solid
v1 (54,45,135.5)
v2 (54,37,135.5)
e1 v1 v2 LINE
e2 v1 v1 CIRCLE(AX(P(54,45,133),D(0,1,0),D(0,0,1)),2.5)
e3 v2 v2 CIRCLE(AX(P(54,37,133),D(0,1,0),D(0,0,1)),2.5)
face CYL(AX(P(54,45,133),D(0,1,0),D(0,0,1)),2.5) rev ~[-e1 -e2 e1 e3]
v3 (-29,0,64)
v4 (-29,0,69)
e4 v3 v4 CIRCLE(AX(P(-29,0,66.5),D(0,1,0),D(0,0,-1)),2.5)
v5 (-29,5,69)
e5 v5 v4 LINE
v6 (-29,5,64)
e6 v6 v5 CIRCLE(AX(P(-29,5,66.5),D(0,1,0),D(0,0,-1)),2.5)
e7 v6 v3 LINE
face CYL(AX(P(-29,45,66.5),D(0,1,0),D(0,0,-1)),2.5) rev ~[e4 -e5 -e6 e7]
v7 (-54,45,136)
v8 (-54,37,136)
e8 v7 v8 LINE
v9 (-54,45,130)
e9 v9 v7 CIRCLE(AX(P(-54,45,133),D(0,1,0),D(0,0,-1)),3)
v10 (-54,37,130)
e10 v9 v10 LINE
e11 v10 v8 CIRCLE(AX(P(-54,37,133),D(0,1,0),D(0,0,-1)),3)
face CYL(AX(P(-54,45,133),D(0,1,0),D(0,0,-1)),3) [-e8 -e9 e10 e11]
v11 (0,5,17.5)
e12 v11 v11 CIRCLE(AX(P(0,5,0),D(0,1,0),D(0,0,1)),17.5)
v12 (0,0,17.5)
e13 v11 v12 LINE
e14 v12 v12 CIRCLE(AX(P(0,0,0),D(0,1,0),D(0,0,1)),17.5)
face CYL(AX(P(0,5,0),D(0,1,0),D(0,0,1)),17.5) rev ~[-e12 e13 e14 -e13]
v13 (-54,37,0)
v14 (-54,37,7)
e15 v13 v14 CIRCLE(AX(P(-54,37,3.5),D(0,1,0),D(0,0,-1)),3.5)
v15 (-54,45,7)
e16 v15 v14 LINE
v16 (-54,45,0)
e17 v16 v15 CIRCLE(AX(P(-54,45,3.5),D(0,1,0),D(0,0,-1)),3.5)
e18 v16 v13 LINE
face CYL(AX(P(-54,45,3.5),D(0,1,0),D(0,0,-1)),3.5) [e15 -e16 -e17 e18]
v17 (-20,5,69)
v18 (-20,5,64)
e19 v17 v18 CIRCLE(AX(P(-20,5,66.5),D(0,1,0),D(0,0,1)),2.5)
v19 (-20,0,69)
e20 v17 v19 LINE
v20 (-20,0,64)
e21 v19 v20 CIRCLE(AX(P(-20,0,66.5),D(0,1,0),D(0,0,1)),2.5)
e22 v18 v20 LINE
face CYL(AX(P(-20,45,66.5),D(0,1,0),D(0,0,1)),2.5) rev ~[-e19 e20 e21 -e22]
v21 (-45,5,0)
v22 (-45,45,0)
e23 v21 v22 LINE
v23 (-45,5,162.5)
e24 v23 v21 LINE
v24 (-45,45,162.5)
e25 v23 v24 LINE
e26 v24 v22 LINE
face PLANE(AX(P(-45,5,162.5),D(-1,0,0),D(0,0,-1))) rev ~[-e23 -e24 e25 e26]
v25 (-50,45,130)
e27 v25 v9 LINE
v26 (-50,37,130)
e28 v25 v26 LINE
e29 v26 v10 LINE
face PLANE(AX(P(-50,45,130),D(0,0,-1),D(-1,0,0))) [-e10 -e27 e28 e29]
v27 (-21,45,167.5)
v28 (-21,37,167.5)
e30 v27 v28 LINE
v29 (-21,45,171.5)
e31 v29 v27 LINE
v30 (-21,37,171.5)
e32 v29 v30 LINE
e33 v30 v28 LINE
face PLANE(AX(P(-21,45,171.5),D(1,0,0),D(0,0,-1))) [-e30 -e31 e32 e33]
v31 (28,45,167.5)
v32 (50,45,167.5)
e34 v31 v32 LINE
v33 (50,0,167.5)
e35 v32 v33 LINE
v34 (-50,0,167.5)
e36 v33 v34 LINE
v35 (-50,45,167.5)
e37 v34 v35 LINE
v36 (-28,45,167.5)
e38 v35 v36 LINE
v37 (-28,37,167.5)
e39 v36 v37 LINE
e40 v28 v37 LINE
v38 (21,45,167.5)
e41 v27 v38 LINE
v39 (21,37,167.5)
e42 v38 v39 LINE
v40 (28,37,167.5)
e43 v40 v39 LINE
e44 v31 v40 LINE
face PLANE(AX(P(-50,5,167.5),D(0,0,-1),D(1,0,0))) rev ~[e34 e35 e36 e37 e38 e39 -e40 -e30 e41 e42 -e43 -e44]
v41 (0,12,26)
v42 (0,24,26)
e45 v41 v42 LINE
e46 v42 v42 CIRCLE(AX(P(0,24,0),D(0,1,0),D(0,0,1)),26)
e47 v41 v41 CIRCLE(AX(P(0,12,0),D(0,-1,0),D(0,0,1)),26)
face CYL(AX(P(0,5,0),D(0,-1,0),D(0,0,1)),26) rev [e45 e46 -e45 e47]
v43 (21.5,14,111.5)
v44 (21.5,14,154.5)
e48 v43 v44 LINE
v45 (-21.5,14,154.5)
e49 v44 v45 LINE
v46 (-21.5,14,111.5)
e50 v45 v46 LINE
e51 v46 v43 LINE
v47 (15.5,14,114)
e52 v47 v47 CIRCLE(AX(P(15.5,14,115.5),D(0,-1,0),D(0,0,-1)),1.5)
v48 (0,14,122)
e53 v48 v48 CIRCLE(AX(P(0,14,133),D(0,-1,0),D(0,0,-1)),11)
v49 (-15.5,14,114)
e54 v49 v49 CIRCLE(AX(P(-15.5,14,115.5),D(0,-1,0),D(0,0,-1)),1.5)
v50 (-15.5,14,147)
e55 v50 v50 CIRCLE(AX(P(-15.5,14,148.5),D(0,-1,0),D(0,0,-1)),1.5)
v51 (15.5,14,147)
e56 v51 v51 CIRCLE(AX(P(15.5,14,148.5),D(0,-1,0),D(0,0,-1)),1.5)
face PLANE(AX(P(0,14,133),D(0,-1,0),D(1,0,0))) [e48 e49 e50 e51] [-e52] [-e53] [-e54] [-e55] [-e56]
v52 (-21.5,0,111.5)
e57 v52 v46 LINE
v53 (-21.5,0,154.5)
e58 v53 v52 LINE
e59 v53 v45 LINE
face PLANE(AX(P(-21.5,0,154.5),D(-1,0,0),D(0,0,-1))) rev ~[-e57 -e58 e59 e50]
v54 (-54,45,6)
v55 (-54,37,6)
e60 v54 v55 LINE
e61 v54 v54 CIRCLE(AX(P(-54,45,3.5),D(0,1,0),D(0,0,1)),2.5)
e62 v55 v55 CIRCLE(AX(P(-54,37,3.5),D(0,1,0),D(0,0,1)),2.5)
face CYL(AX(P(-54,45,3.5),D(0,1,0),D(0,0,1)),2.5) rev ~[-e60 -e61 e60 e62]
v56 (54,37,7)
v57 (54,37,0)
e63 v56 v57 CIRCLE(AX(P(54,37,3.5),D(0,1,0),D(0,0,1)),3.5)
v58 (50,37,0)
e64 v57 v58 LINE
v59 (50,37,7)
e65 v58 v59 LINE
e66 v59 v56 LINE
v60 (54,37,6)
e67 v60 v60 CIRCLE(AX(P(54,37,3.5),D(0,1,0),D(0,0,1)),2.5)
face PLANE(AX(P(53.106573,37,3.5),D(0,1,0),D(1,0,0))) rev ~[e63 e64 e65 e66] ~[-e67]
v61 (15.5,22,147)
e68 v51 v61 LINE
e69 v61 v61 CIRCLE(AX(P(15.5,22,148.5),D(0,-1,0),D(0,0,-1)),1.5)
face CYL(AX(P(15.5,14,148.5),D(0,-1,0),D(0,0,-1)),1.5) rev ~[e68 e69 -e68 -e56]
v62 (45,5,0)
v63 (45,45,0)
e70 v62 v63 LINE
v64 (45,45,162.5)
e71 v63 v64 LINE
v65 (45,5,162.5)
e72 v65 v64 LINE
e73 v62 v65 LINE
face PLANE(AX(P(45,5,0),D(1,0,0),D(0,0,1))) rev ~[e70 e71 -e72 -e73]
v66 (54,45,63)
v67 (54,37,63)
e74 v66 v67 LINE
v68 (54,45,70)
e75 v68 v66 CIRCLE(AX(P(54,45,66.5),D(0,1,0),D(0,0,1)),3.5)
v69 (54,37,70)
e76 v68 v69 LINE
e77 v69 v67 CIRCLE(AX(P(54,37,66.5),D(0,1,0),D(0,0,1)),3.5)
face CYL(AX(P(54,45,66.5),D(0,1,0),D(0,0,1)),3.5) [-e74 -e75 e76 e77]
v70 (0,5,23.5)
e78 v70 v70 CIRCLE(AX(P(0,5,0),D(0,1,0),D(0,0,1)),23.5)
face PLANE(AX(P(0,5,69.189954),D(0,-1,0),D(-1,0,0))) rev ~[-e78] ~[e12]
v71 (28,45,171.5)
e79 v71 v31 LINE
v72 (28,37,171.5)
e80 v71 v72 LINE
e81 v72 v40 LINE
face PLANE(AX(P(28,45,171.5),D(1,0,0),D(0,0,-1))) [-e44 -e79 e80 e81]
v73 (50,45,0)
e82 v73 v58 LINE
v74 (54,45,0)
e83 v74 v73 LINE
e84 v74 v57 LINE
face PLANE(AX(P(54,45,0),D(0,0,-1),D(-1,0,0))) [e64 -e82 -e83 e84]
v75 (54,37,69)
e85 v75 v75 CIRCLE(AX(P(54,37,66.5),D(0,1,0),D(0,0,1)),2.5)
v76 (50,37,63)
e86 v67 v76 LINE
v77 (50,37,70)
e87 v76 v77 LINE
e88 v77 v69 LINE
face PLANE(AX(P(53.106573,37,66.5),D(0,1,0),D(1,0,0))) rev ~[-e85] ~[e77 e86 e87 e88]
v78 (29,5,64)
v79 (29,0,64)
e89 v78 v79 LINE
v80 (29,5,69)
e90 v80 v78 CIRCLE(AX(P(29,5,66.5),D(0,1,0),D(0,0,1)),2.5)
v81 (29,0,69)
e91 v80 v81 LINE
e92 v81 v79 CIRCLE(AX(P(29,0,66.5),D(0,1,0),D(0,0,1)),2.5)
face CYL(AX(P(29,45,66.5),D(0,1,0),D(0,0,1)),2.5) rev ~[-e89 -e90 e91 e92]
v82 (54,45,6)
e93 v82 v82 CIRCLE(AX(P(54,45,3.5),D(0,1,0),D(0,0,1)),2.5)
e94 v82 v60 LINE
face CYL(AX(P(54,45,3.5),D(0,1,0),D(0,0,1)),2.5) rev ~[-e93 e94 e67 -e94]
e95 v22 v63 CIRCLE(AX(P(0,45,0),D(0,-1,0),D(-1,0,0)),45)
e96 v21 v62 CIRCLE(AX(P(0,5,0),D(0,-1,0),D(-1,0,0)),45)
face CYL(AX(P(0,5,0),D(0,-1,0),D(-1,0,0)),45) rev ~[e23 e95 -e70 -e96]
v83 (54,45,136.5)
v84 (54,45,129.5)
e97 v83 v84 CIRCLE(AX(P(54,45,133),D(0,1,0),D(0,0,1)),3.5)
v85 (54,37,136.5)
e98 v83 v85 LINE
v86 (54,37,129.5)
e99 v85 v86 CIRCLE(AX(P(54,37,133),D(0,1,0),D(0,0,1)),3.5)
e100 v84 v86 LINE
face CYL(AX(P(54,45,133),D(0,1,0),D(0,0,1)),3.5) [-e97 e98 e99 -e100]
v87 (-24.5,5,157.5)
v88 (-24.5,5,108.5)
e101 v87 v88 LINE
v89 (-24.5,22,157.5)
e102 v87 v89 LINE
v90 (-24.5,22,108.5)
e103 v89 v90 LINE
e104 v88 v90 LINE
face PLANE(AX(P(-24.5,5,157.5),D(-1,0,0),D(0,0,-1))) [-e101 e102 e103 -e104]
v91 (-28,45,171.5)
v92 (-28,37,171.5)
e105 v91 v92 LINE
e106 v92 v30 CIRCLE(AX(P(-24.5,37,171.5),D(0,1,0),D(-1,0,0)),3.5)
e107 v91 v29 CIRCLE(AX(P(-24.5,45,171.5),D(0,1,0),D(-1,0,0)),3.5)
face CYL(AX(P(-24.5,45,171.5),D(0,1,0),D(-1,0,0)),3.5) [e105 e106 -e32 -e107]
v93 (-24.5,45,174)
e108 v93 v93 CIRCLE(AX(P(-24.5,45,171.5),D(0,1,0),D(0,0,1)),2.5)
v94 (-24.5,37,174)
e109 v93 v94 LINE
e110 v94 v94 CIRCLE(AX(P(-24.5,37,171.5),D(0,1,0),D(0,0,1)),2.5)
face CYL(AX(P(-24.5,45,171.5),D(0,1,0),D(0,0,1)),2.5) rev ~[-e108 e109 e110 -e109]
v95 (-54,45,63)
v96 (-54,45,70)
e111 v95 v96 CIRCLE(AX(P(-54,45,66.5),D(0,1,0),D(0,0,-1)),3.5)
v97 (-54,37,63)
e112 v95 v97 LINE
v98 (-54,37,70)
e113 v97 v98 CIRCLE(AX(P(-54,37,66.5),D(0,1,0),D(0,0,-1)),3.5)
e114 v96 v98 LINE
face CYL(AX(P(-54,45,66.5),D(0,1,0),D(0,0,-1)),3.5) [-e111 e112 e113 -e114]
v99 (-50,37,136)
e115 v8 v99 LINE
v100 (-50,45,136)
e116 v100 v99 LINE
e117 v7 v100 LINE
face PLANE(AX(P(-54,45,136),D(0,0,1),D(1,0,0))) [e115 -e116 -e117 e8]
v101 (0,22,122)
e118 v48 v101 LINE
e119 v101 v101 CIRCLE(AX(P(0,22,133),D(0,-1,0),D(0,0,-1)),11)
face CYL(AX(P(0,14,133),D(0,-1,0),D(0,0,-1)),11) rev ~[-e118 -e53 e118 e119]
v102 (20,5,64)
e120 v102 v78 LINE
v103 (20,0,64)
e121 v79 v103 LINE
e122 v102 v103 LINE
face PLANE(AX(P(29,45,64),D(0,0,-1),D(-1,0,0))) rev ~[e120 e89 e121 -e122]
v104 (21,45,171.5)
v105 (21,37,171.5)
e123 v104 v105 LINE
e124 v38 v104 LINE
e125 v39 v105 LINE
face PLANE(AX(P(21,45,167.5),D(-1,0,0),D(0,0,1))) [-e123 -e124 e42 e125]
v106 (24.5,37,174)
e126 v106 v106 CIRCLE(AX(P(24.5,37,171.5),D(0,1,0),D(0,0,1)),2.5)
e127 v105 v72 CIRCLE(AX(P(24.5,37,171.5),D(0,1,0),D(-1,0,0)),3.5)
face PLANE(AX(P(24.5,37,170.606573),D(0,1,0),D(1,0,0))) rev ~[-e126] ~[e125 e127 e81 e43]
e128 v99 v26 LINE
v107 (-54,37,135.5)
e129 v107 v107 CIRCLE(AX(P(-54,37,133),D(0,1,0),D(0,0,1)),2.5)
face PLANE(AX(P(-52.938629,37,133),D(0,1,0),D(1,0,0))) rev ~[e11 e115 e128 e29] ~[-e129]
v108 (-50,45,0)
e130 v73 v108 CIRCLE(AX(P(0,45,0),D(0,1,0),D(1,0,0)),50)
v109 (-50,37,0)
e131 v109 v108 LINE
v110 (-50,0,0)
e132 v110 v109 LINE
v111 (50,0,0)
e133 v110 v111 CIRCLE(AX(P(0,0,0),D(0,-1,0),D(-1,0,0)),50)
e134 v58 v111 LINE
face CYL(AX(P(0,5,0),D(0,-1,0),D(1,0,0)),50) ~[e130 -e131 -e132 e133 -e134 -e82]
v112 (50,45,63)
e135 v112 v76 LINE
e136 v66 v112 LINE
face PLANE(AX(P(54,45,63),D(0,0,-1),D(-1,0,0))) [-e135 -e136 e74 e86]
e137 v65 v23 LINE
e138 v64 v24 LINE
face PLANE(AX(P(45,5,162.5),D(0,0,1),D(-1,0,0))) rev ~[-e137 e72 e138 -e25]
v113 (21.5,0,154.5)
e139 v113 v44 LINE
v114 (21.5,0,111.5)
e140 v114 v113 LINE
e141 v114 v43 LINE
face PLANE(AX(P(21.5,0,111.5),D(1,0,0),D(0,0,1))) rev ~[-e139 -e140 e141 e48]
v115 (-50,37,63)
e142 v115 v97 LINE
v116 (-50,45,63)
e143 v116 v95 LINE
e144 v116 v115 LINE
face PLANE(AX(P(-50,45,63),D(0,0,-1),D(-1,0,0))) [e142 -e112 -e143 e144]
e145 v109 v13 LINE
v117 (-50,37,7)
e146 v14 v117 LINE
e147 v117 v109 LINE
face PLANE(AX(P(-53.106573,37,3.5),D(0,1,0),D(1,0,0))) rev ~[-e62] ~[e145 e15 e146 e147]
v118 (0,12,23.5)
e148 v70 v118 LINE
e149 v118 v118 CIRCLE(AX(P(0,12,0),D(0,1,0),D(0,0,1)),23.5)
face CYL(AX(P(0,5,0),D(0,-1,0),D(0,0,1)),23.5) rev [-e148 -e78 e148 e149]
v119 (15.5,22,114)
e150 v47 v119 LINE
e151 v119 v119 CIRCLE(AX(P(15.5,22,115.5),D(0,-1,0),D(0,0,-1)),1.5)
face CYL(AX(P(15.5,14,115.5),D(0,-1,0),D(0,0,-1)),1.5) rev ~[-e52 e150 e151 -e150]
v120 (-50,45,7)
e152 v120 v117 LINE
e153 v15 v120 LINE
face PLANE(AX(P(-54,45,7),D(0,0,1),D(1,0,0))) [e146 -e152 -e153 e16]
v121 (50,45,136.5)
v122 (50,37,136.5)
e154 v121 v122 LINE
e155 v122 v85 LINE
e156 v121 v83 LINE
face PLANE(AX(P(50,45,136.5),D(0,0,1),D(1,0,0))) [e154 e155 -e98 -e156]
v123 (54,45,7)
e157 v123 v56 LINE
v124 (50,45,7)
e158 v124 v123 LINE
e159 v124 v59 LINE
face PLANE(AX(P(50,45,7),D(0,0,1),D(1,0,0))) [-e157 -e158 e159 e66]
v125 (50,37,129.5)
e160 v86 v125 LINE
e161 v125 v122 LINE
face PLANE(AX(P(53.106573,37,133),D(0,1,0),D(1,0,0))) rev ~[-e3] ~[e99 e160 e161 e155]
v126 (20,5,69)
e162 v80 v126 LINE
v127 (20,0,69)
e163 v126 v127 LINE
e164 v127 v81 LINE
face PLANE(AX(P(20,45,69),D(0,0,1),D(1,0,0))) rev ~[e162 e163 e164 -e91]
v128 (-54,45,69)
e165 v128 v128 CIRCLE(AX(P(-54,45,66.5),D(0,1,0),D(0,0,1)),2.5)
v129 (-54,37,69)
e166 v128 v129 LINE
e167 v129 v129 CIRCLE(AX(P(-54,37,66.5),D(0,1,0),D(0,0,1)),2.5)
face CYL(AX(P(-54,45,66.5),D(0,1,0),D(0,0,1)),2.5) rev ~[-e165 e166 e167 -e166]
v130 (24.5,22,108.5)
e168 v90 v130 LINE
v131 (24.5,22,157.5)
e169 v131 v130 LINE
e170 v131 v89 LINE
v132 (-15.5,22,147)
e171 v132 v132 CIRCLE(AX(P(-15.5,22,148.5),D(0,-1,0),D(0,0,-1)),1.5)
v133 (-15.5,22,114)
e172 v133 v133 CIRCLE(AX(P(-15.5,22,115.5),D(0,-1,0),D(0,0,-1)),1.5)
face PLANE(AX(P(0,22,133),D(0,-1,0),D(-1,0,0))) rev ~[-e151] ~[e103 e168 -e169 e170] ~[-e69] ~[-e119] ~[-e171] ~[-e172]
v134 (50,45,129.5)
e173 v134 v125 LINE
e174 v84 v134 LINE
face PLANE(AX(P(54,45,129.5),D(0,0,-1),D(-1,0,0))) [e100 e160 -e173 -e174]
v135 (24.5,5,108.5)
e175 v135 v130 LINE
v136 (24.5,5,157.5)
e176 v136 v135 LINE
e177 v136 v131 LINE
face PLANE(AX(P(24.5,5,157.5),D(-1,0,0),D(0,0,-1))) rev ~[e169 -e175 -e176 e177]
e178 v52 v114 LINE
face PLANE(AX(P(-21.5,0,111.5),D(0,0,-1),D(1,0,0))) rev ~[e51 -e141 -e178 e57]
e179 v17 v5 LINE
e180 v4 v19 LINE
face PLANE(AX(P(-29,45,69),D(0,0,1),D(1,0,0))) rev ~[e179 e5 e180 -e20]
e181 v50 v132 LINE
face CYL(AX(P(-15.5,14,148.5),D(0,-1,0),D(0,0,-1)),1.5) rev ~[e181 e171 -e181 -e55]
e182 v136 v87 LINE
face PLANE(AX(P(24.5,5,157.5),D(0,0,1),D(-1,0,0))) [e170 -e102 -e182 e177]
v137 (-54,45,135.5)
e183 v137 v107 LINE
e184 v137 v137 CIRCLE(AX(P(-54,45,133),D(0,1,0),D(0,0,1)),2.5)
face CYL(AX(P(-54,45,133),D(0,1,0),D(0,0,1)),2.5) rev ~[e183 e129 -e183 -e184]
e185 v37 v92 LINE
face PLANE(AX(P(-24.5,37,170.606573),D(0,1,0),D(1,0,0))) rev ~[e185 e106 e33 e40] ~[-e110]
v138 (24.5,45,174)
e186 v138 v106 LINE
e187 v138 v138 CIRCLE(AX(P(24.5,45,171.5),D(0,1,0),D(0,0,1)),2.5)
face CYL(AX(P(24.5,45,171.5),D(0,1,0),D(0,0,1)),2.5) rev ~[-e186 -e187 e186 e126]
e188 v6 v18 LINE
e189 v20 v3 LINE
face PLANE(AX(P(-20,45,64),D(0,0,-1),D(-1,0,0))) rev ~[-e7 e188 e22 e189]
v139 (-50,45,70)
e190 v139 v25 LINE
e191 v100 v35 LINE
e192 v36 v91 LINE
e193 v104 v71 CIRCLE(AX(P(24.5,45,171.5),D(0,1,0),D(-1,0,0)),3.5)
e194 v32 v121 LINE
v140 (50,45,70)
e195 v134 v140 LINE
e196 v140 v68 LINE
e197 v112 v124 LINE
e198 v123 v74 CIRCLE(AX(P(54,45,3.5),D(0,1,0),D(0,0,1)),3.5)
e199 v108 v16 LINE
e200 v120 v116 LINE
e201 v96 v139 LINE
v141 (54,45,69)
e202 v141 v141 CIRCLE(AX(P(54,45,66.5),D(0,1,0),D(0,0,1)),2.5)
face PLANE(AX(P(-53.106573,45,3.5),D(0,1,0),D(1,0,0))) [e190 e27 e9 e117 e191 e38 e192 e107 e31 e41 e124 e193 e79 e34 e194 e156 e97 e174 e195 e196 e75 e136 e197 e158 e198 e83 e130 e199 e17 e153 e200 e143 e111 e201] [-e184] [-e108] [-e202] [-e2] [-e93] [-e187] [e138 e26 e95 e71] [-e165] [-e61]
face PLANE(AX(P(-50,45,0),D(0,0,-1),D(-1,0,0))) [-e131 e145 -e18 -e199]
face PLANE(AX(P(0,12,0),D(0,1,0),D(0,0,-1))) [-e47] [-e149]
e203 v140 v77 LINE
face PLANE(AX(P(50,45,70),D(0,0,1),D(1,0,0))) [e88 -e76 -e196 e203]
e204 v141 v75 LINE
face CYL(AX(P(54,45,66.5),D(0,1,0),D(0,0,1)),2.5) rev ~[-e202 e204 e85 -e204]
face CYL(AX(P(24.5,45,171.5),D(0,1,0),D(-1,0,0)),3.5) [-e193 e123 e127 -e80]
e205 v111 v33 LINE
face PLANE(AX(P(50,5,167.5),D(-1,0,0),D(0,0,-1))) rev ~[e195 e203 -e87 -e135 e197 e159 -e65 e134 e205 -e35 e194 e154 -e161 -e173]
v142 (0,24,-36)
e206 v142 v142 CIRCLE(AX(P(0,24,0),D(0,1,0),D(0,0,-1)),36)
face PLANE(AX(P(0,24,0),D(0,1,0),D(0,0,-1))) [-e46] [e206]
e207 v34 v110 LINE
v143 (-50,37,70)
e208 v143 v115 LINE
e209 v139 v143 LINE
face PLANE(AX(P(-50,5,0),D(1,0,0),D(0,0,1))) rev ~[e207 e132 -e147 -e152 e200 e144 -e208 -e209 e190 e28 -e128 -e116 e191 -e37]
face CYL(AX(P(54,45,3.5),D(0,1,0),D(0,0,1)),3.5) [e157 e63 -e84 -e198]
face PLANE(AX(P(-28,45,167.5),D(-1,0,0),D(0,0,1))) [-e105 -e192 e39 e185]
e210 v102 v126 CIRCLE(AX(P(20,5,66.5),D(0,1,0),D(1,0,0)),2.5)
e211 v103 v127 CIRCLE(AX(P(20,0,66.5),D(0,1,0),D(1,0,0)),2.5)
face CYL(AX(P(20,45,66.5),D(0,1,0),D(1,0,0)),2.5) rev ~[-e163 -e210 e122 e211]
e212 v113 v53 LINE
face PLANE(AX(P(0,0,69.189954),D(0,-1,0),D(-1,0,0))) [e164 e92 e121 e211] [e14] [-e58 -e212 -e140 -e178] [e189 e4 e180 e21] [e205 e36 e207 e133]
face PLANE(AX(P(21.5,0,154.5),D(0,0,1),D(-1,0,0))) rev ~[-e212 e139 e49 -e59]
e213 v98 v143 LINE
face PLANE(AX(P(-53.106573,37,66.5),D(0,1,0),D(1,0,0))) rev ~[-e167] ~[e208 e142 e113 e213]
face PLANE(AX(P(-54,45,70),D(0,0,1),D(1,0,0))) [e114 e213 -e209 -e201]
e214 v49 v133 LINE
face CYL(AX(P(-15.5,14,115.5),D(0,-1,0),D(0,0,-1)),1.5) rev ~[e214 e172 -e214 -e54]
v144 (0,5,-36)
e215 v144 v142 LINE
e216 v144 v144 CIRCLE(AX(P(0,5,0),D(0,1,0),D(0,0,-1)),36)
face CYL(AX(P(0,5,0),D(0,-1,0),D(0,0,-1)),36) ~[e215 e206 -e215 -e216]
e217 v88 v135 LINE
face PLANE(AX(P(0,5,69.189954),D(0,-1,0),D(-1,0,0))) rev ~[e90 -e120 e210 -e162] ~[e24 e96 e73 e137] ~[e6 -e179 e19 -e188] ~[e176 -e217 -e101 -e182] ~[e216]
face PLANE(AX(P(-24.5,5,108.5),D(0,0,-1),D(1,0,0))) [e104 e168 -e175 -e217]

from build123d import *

# Parameters (mm, degrees)
BOSS_EXTRUDE1_DEPTH = 5
BOSS_EXTRUDE2_DEPTH = 40
SKETCH3_R           = 17.5
CUT_EXTRUDE1_DEPTH  = 40
SKETCH4_R           = 26
SKETCH4_R_2         = 23.5
BOSS_EXTRUDE3_DEPTH = 7
SKETCH5_R           = 36
SKETCH5_R_2         = 26
BOSS_EXTRUDE4_DEPTH = 19
BOSS_EXTRUDE5_DEPTH = 17
CUT_EXTRUDE2_DEPTH  = 14
SKETCH8_R           = 1.5
SKETCH8_R_2         = 11
CUT_EXTRUDE3_DEPTH  = 14
SKETCH9_R           = 2.5
CUT_EXTRUDE4_DEPTH  = 45
SKETCH10_R          = 2.5
BOSS_EXTRUDE6_DEPTH = 8


with BuildPart() as part:
    # Sketch1 → Boss-Extrude1 (new body)
    with BuildSketch(Plane(origin=(0, 0, 0), x_dir=(1, 0, 0), z_dir=(0, 1, 0))):
        with BuildLine():
            Line((50, 0), (50, -167.5))
            Line((50, -167.5), (-50, -167.5))
            Line((-50, -167.5), (-50, 0))
            ThreePointArc((-50, 0), (0, 50), (50, 0))
        make_face()
    extrude(amount=BOSS_EXTRUDE1_DEPTH)

    # Sketch2 → Boss-Extrude2 (add)
    with BuildSketch(Plane(origin=(0, 5, 0), x_dir=(1, 0, 0), z_dir=(0, 1, 0))):
        with BuildLine():
            ThreePointArc((50, 0), (0, 50), (-50, 0))
            Line((-50, 0), (-50, -167.5))
            Line((-50, -167.5), (50, -167.5))
            Line((50, -167.5), (50, 0))
        make_face()
        with BuildLine():
            Line((-45, -162.5), (-45, 0))
            ThreePointArc((-45, 0), (0, 45), (45, 0))
            Line((45, 0), (45, -162.5))
            Line((45, -162.5), (-45, -162.5))
        make_face(mode=Mode.SUBTRACT)
    extrude(amount=BOSS_EXTRUDE2_DEPTH)

    # Sketch3 → Cut-Extrude1 (cut)
    with BuildSketch(Plane(origin=(0, 5, 0), x_dir=(1, 0, 0), z_dir=(0, 1, 0))):
        with Locations(Location((0, 0, 0), (0, 0, 270))):
            Circle(SKETCH3_R)
    extrude(amount=-CUT_EXTRUDE1_DEPTH, mode=Mode.SUBTRACT)

    # Sketch4 → Boss-Extrude3 (add)
    with BuildSketch(Plane(origin=(0, 5, 0), x_dir=(1, 0, 0), z_dir=(0, 1, 0))):
        with Locations(Location((0, 0, 0), (0, 0, 90))):
            Circle(SKETCH4_R)
        with Locations(Location((0, 0, 0), (0, 0, 270))):
            Circle(SKETCH4_R_2, mode=Mode.SUBTRACT)
    extrude(amount=BOSS_EXTRUDE3_DEPTH)

    # Sketch5 → Boss-Extrude4 (add)
    with BuildSketch(Plane(origin=(0, 5, 0), x_dir=(1, 0, 0), z_dir=(0, 1, 0))):
        with Locations(Location((0, 0, 0), (0, 0, 90))):
            Circle(SKETCH5_R)
        with Locations(Location((0, 0, 0), (0, 0, 270))):
            Circle(SKETCH5_R_2, mode=Mode.SUBTRACT)
    extrude(amount=BOSS_EXTRUDE4_DEPTH)

    # Sketch6 → Boss-Extrude5 (add)
    with BuildSketch(Plane(origin=(0, 5, 0), x_dir=(1, 0, 0), z_dir=(0, 1, 0))):
        Polygon((24.5, -133), (24.5, -157.5), (-24.5, -157.5), (-24.5, -108.5), (24.5, -108.5), align=None)
    extrude(amount=BOSS_EXTRUDE5_DEPTH)

    # Sketch7 → Cut-Extrude2 (cut)
    with BuildSketch(Plane.XZ):
        Polygon((21.5, 133), (21.5, 154.5), (-21.5, 154.5), (-21.5, 111.5), (21.5, 111.5), align=None)
    extrude(amount=-CUT_EXTRUDE2_DEPTH, mode=Mode.SUBTRACT)

    # Sketch8 → Cut-Extrude3 (cut)
    with BuildSketch(Plane.XZ.offset(-14)):
        with Locations(Location((-15.5, 148.5, 0), (0, 0, 270))):
            Circle(SKETCH8_R)
        with Locations(Location((15.5, 148.5, 0), (0, 0, 270))):
            Circle(SKETCH8_R)
        with Locations(Location((-15.5, 115.5, 0), (0, 0, 270))):
            Circle(SKETCH8_R)
        with Locations(Location((15.5, 115.5, 0), (0, 0, 270))):
            Circle(SKETCH8_R)
        with Locations(Location((0, 133, 0), (0, 0, 270))):
            Circle(SKETCH8_R_2)
    extrude(amount=-CUT_EXTRUDE3_DEPTH, mode=Mode.SUBTRACT)

    # Sketch9 → Cut-Extrude4 (cut)
    with BuildSketch(Plane(origin=(0, 45, 0), x_dir=(1, 0, 0), z_dir=(0, 1, 0))):
        with BuildLine():
            ThreePointArc((-20, -69), (-22.5, -66.5), (-20, -64))
            Line((-20, -64), (-29, -64))
            ThreePointArc((-29, -64), (-31.5, -66.5), (-29, -69))
            Line((-29, -69), (-20, -69))
        make_face()
        with Locations((-20, -66.5)):
            Circle(SKETCH9_R)
        with BuildLine():
            Line((29, -64), (20, -64))
            ThreePointArc((20, -64), (21.767766953, -64.732233047), (22.5, -66.5))
            ThreePointArc((22.5, -66.5), (21.767766953, -68.267766953), (20, -69))
            Line((20, -69), (29, -69))
            ThreePointArc((29, -69), (31.5, -66.5), (29, -64))
        make_face()
        with Locations((20, -66.5)):
            Circle(SKETCH9_R)
    extrude(amount=-CUT_EXTRUDE4_DEPTH, mode=Mode.SUBTRACT)

    # Sketch10 → Boss-Extrude6 (add)
    # profile 1 of 8: a face of its own
    with BuildSketch(Plane(origin=(0, 45, 0), x_dir=(1, 0, 0), z_dir=(0, 1, 0))):
        with BuildLine():
            Line((-54, -70), (-50, -70))
            Line((-50, -70), (-50, -63))
            Line((-50, -63), (-54, -63))
            ThreePointArc((-54, -63), (-57.5, -66.5), (-54, -70))
        make_face()
        with Locations(Location((-54, -66.5, 0), (0, 0, 270))):
            Circle(SKETCH10_R, mode=Mode.SUBTRACT)
    # profile 2 of 8: a face of its own
    with BuildSketch(Plane(origin=(0, 45, 0), x_dir=(1, 0, 0), z_dir=(0, 1, 0))):
        with BuildLine():
            Line((-54, -7), (-50, -7))
            Line((-50, -7), (-50, 0))
            Line((-50, 0), (-54, 0))
            ThreePointArc((-54, 0), (-57.5, -3.5), (-54, -7))
        make_face()
        with Locations(Location((-54, -3.5, 0), (0, 0, 270))):
            Circle(SKETCH10_R, mode=Mode.SUBTRACT)
    # profile 3 of 8: a face of its own
    with BuildSketch(Plane(origin=(0, 45, 0), x_dir=(1, 0, 0), z_dir=(0, 1, 0))):
        with BuildLine():
            Line((-54, -136), (-50, -136))
            Line((-50, -136), (-50, -130))
            Line((-50, -130), (-54, -130))
            ThreePointArc((-54, -130), (-57, -133), (-54, -136))
        make_face()
        with Locations(Location((-54, -133, 0), (0, 0, 270))):
            Circle(SKETCH10_R, mode=Mode.SUBTRACT)
    # profile 4 of 8: a face of its own
    with BuildSketch(Plane(origin=(0, 45, 0), x_dir=(1, 0, 0), z_dir=(0, 1, 0))):
        with BuildLine():
            Line((28, -171.5), (28, -167.5))
            Line((28, -167.5), (21, -167.5))
            Line((21, -167.5), (21, -171.5))
            ThreePointArc((21, -171.5), (24.5, -175), (28, -171.5))
        make_face()
        with Locations(Location((24.5, -171.5, 0), (0, 0, 270))):
            Circle(SKETCH10_R, mode=Mode.SUBTRACT)
    # profile 5 of 8: a face of its own
    with BuildSketch(Plane(origin=(0, 45, 0), x_dir=(1, 0, 0), z_dir=(0, 1, 0))):
        with BuildLine():
            Line((-21, -171.5), (-21, -167.5))
            Line((-21, -167.5), (-28, -167.5))
            Line((-28, -167.5), (-28, -171.5))
            ThreePointArc((-28, -171.5), (-24.5, -175), (-21, -171.5))
        make_face()
        with Locations(Location((-24.5, -171.5, 0), (0, 0, 270))):
            Circle(SKETCH10_R, mode=Mode.SUBTRACT)
    # profile 6 of 8: a face of its own
    with BuildSketch(Plane(origin=(0, 45, 0), x_dir=(1, 0, 0), z_dir=(0, 1, 0))):
        with BuildLine():
            Line((54, -129.5), (50, -129.5))
            Line((50, -129.5), (50, -136.5))
            Line((50, -136.5), (54, -136.5))
            ThreePointArc((54, -136.5), (57.5, -133), (54, -129.5))
        make_face()
        with Locations(Location((54, -133, 0), (0, 0, 270))):
            Circle(SKETCH10_R, mode=Mode.SUBTRACT)
    # profile 7 of 8: a face of its own
    with BuildSketch(Plane(origin=(0, 45, 0), x_dir=(1, 0, 0), z_dir=(0, 1, 0))):
        with BuildLine():
            Line((54, -63), (50, -63))
            Line((50, -63), (50, -70))
            Line((50, -70), (54, -70))
            ThreePointArc((54, -70), (57.5, -66.5), (54, -63))
        make_face()
        with Locations(Location((54, -66.5, 0), (0, 0, 270))):
            Circle(SKETCH10_R, mode=Mode.SUBTRACT)
    # profile 8 of 8: a face of its own
    with BuildSketch(Plane(origin=(0, 45, 0), x_dir=(1, 0, 0), z_dir=(0, 1, 0))):
        with BuildLine():
            Line((54, 0), (50, 0))
            Line((50, 0), (50, -7))
            Line((50, -7), (54, -7))
            ThreePointArc((54, -7), (57.5, -3.5), (54, 0))
        make_face()
        with Locations(Location((54, -3.5, 0), (0, 0, 270))):
            Circle(SKETCH10_R, mode=Mode.SUBTRACT)
    extrude(amount=-BOSS_EXTRUDE6_DEPTH)


solid = part.part
